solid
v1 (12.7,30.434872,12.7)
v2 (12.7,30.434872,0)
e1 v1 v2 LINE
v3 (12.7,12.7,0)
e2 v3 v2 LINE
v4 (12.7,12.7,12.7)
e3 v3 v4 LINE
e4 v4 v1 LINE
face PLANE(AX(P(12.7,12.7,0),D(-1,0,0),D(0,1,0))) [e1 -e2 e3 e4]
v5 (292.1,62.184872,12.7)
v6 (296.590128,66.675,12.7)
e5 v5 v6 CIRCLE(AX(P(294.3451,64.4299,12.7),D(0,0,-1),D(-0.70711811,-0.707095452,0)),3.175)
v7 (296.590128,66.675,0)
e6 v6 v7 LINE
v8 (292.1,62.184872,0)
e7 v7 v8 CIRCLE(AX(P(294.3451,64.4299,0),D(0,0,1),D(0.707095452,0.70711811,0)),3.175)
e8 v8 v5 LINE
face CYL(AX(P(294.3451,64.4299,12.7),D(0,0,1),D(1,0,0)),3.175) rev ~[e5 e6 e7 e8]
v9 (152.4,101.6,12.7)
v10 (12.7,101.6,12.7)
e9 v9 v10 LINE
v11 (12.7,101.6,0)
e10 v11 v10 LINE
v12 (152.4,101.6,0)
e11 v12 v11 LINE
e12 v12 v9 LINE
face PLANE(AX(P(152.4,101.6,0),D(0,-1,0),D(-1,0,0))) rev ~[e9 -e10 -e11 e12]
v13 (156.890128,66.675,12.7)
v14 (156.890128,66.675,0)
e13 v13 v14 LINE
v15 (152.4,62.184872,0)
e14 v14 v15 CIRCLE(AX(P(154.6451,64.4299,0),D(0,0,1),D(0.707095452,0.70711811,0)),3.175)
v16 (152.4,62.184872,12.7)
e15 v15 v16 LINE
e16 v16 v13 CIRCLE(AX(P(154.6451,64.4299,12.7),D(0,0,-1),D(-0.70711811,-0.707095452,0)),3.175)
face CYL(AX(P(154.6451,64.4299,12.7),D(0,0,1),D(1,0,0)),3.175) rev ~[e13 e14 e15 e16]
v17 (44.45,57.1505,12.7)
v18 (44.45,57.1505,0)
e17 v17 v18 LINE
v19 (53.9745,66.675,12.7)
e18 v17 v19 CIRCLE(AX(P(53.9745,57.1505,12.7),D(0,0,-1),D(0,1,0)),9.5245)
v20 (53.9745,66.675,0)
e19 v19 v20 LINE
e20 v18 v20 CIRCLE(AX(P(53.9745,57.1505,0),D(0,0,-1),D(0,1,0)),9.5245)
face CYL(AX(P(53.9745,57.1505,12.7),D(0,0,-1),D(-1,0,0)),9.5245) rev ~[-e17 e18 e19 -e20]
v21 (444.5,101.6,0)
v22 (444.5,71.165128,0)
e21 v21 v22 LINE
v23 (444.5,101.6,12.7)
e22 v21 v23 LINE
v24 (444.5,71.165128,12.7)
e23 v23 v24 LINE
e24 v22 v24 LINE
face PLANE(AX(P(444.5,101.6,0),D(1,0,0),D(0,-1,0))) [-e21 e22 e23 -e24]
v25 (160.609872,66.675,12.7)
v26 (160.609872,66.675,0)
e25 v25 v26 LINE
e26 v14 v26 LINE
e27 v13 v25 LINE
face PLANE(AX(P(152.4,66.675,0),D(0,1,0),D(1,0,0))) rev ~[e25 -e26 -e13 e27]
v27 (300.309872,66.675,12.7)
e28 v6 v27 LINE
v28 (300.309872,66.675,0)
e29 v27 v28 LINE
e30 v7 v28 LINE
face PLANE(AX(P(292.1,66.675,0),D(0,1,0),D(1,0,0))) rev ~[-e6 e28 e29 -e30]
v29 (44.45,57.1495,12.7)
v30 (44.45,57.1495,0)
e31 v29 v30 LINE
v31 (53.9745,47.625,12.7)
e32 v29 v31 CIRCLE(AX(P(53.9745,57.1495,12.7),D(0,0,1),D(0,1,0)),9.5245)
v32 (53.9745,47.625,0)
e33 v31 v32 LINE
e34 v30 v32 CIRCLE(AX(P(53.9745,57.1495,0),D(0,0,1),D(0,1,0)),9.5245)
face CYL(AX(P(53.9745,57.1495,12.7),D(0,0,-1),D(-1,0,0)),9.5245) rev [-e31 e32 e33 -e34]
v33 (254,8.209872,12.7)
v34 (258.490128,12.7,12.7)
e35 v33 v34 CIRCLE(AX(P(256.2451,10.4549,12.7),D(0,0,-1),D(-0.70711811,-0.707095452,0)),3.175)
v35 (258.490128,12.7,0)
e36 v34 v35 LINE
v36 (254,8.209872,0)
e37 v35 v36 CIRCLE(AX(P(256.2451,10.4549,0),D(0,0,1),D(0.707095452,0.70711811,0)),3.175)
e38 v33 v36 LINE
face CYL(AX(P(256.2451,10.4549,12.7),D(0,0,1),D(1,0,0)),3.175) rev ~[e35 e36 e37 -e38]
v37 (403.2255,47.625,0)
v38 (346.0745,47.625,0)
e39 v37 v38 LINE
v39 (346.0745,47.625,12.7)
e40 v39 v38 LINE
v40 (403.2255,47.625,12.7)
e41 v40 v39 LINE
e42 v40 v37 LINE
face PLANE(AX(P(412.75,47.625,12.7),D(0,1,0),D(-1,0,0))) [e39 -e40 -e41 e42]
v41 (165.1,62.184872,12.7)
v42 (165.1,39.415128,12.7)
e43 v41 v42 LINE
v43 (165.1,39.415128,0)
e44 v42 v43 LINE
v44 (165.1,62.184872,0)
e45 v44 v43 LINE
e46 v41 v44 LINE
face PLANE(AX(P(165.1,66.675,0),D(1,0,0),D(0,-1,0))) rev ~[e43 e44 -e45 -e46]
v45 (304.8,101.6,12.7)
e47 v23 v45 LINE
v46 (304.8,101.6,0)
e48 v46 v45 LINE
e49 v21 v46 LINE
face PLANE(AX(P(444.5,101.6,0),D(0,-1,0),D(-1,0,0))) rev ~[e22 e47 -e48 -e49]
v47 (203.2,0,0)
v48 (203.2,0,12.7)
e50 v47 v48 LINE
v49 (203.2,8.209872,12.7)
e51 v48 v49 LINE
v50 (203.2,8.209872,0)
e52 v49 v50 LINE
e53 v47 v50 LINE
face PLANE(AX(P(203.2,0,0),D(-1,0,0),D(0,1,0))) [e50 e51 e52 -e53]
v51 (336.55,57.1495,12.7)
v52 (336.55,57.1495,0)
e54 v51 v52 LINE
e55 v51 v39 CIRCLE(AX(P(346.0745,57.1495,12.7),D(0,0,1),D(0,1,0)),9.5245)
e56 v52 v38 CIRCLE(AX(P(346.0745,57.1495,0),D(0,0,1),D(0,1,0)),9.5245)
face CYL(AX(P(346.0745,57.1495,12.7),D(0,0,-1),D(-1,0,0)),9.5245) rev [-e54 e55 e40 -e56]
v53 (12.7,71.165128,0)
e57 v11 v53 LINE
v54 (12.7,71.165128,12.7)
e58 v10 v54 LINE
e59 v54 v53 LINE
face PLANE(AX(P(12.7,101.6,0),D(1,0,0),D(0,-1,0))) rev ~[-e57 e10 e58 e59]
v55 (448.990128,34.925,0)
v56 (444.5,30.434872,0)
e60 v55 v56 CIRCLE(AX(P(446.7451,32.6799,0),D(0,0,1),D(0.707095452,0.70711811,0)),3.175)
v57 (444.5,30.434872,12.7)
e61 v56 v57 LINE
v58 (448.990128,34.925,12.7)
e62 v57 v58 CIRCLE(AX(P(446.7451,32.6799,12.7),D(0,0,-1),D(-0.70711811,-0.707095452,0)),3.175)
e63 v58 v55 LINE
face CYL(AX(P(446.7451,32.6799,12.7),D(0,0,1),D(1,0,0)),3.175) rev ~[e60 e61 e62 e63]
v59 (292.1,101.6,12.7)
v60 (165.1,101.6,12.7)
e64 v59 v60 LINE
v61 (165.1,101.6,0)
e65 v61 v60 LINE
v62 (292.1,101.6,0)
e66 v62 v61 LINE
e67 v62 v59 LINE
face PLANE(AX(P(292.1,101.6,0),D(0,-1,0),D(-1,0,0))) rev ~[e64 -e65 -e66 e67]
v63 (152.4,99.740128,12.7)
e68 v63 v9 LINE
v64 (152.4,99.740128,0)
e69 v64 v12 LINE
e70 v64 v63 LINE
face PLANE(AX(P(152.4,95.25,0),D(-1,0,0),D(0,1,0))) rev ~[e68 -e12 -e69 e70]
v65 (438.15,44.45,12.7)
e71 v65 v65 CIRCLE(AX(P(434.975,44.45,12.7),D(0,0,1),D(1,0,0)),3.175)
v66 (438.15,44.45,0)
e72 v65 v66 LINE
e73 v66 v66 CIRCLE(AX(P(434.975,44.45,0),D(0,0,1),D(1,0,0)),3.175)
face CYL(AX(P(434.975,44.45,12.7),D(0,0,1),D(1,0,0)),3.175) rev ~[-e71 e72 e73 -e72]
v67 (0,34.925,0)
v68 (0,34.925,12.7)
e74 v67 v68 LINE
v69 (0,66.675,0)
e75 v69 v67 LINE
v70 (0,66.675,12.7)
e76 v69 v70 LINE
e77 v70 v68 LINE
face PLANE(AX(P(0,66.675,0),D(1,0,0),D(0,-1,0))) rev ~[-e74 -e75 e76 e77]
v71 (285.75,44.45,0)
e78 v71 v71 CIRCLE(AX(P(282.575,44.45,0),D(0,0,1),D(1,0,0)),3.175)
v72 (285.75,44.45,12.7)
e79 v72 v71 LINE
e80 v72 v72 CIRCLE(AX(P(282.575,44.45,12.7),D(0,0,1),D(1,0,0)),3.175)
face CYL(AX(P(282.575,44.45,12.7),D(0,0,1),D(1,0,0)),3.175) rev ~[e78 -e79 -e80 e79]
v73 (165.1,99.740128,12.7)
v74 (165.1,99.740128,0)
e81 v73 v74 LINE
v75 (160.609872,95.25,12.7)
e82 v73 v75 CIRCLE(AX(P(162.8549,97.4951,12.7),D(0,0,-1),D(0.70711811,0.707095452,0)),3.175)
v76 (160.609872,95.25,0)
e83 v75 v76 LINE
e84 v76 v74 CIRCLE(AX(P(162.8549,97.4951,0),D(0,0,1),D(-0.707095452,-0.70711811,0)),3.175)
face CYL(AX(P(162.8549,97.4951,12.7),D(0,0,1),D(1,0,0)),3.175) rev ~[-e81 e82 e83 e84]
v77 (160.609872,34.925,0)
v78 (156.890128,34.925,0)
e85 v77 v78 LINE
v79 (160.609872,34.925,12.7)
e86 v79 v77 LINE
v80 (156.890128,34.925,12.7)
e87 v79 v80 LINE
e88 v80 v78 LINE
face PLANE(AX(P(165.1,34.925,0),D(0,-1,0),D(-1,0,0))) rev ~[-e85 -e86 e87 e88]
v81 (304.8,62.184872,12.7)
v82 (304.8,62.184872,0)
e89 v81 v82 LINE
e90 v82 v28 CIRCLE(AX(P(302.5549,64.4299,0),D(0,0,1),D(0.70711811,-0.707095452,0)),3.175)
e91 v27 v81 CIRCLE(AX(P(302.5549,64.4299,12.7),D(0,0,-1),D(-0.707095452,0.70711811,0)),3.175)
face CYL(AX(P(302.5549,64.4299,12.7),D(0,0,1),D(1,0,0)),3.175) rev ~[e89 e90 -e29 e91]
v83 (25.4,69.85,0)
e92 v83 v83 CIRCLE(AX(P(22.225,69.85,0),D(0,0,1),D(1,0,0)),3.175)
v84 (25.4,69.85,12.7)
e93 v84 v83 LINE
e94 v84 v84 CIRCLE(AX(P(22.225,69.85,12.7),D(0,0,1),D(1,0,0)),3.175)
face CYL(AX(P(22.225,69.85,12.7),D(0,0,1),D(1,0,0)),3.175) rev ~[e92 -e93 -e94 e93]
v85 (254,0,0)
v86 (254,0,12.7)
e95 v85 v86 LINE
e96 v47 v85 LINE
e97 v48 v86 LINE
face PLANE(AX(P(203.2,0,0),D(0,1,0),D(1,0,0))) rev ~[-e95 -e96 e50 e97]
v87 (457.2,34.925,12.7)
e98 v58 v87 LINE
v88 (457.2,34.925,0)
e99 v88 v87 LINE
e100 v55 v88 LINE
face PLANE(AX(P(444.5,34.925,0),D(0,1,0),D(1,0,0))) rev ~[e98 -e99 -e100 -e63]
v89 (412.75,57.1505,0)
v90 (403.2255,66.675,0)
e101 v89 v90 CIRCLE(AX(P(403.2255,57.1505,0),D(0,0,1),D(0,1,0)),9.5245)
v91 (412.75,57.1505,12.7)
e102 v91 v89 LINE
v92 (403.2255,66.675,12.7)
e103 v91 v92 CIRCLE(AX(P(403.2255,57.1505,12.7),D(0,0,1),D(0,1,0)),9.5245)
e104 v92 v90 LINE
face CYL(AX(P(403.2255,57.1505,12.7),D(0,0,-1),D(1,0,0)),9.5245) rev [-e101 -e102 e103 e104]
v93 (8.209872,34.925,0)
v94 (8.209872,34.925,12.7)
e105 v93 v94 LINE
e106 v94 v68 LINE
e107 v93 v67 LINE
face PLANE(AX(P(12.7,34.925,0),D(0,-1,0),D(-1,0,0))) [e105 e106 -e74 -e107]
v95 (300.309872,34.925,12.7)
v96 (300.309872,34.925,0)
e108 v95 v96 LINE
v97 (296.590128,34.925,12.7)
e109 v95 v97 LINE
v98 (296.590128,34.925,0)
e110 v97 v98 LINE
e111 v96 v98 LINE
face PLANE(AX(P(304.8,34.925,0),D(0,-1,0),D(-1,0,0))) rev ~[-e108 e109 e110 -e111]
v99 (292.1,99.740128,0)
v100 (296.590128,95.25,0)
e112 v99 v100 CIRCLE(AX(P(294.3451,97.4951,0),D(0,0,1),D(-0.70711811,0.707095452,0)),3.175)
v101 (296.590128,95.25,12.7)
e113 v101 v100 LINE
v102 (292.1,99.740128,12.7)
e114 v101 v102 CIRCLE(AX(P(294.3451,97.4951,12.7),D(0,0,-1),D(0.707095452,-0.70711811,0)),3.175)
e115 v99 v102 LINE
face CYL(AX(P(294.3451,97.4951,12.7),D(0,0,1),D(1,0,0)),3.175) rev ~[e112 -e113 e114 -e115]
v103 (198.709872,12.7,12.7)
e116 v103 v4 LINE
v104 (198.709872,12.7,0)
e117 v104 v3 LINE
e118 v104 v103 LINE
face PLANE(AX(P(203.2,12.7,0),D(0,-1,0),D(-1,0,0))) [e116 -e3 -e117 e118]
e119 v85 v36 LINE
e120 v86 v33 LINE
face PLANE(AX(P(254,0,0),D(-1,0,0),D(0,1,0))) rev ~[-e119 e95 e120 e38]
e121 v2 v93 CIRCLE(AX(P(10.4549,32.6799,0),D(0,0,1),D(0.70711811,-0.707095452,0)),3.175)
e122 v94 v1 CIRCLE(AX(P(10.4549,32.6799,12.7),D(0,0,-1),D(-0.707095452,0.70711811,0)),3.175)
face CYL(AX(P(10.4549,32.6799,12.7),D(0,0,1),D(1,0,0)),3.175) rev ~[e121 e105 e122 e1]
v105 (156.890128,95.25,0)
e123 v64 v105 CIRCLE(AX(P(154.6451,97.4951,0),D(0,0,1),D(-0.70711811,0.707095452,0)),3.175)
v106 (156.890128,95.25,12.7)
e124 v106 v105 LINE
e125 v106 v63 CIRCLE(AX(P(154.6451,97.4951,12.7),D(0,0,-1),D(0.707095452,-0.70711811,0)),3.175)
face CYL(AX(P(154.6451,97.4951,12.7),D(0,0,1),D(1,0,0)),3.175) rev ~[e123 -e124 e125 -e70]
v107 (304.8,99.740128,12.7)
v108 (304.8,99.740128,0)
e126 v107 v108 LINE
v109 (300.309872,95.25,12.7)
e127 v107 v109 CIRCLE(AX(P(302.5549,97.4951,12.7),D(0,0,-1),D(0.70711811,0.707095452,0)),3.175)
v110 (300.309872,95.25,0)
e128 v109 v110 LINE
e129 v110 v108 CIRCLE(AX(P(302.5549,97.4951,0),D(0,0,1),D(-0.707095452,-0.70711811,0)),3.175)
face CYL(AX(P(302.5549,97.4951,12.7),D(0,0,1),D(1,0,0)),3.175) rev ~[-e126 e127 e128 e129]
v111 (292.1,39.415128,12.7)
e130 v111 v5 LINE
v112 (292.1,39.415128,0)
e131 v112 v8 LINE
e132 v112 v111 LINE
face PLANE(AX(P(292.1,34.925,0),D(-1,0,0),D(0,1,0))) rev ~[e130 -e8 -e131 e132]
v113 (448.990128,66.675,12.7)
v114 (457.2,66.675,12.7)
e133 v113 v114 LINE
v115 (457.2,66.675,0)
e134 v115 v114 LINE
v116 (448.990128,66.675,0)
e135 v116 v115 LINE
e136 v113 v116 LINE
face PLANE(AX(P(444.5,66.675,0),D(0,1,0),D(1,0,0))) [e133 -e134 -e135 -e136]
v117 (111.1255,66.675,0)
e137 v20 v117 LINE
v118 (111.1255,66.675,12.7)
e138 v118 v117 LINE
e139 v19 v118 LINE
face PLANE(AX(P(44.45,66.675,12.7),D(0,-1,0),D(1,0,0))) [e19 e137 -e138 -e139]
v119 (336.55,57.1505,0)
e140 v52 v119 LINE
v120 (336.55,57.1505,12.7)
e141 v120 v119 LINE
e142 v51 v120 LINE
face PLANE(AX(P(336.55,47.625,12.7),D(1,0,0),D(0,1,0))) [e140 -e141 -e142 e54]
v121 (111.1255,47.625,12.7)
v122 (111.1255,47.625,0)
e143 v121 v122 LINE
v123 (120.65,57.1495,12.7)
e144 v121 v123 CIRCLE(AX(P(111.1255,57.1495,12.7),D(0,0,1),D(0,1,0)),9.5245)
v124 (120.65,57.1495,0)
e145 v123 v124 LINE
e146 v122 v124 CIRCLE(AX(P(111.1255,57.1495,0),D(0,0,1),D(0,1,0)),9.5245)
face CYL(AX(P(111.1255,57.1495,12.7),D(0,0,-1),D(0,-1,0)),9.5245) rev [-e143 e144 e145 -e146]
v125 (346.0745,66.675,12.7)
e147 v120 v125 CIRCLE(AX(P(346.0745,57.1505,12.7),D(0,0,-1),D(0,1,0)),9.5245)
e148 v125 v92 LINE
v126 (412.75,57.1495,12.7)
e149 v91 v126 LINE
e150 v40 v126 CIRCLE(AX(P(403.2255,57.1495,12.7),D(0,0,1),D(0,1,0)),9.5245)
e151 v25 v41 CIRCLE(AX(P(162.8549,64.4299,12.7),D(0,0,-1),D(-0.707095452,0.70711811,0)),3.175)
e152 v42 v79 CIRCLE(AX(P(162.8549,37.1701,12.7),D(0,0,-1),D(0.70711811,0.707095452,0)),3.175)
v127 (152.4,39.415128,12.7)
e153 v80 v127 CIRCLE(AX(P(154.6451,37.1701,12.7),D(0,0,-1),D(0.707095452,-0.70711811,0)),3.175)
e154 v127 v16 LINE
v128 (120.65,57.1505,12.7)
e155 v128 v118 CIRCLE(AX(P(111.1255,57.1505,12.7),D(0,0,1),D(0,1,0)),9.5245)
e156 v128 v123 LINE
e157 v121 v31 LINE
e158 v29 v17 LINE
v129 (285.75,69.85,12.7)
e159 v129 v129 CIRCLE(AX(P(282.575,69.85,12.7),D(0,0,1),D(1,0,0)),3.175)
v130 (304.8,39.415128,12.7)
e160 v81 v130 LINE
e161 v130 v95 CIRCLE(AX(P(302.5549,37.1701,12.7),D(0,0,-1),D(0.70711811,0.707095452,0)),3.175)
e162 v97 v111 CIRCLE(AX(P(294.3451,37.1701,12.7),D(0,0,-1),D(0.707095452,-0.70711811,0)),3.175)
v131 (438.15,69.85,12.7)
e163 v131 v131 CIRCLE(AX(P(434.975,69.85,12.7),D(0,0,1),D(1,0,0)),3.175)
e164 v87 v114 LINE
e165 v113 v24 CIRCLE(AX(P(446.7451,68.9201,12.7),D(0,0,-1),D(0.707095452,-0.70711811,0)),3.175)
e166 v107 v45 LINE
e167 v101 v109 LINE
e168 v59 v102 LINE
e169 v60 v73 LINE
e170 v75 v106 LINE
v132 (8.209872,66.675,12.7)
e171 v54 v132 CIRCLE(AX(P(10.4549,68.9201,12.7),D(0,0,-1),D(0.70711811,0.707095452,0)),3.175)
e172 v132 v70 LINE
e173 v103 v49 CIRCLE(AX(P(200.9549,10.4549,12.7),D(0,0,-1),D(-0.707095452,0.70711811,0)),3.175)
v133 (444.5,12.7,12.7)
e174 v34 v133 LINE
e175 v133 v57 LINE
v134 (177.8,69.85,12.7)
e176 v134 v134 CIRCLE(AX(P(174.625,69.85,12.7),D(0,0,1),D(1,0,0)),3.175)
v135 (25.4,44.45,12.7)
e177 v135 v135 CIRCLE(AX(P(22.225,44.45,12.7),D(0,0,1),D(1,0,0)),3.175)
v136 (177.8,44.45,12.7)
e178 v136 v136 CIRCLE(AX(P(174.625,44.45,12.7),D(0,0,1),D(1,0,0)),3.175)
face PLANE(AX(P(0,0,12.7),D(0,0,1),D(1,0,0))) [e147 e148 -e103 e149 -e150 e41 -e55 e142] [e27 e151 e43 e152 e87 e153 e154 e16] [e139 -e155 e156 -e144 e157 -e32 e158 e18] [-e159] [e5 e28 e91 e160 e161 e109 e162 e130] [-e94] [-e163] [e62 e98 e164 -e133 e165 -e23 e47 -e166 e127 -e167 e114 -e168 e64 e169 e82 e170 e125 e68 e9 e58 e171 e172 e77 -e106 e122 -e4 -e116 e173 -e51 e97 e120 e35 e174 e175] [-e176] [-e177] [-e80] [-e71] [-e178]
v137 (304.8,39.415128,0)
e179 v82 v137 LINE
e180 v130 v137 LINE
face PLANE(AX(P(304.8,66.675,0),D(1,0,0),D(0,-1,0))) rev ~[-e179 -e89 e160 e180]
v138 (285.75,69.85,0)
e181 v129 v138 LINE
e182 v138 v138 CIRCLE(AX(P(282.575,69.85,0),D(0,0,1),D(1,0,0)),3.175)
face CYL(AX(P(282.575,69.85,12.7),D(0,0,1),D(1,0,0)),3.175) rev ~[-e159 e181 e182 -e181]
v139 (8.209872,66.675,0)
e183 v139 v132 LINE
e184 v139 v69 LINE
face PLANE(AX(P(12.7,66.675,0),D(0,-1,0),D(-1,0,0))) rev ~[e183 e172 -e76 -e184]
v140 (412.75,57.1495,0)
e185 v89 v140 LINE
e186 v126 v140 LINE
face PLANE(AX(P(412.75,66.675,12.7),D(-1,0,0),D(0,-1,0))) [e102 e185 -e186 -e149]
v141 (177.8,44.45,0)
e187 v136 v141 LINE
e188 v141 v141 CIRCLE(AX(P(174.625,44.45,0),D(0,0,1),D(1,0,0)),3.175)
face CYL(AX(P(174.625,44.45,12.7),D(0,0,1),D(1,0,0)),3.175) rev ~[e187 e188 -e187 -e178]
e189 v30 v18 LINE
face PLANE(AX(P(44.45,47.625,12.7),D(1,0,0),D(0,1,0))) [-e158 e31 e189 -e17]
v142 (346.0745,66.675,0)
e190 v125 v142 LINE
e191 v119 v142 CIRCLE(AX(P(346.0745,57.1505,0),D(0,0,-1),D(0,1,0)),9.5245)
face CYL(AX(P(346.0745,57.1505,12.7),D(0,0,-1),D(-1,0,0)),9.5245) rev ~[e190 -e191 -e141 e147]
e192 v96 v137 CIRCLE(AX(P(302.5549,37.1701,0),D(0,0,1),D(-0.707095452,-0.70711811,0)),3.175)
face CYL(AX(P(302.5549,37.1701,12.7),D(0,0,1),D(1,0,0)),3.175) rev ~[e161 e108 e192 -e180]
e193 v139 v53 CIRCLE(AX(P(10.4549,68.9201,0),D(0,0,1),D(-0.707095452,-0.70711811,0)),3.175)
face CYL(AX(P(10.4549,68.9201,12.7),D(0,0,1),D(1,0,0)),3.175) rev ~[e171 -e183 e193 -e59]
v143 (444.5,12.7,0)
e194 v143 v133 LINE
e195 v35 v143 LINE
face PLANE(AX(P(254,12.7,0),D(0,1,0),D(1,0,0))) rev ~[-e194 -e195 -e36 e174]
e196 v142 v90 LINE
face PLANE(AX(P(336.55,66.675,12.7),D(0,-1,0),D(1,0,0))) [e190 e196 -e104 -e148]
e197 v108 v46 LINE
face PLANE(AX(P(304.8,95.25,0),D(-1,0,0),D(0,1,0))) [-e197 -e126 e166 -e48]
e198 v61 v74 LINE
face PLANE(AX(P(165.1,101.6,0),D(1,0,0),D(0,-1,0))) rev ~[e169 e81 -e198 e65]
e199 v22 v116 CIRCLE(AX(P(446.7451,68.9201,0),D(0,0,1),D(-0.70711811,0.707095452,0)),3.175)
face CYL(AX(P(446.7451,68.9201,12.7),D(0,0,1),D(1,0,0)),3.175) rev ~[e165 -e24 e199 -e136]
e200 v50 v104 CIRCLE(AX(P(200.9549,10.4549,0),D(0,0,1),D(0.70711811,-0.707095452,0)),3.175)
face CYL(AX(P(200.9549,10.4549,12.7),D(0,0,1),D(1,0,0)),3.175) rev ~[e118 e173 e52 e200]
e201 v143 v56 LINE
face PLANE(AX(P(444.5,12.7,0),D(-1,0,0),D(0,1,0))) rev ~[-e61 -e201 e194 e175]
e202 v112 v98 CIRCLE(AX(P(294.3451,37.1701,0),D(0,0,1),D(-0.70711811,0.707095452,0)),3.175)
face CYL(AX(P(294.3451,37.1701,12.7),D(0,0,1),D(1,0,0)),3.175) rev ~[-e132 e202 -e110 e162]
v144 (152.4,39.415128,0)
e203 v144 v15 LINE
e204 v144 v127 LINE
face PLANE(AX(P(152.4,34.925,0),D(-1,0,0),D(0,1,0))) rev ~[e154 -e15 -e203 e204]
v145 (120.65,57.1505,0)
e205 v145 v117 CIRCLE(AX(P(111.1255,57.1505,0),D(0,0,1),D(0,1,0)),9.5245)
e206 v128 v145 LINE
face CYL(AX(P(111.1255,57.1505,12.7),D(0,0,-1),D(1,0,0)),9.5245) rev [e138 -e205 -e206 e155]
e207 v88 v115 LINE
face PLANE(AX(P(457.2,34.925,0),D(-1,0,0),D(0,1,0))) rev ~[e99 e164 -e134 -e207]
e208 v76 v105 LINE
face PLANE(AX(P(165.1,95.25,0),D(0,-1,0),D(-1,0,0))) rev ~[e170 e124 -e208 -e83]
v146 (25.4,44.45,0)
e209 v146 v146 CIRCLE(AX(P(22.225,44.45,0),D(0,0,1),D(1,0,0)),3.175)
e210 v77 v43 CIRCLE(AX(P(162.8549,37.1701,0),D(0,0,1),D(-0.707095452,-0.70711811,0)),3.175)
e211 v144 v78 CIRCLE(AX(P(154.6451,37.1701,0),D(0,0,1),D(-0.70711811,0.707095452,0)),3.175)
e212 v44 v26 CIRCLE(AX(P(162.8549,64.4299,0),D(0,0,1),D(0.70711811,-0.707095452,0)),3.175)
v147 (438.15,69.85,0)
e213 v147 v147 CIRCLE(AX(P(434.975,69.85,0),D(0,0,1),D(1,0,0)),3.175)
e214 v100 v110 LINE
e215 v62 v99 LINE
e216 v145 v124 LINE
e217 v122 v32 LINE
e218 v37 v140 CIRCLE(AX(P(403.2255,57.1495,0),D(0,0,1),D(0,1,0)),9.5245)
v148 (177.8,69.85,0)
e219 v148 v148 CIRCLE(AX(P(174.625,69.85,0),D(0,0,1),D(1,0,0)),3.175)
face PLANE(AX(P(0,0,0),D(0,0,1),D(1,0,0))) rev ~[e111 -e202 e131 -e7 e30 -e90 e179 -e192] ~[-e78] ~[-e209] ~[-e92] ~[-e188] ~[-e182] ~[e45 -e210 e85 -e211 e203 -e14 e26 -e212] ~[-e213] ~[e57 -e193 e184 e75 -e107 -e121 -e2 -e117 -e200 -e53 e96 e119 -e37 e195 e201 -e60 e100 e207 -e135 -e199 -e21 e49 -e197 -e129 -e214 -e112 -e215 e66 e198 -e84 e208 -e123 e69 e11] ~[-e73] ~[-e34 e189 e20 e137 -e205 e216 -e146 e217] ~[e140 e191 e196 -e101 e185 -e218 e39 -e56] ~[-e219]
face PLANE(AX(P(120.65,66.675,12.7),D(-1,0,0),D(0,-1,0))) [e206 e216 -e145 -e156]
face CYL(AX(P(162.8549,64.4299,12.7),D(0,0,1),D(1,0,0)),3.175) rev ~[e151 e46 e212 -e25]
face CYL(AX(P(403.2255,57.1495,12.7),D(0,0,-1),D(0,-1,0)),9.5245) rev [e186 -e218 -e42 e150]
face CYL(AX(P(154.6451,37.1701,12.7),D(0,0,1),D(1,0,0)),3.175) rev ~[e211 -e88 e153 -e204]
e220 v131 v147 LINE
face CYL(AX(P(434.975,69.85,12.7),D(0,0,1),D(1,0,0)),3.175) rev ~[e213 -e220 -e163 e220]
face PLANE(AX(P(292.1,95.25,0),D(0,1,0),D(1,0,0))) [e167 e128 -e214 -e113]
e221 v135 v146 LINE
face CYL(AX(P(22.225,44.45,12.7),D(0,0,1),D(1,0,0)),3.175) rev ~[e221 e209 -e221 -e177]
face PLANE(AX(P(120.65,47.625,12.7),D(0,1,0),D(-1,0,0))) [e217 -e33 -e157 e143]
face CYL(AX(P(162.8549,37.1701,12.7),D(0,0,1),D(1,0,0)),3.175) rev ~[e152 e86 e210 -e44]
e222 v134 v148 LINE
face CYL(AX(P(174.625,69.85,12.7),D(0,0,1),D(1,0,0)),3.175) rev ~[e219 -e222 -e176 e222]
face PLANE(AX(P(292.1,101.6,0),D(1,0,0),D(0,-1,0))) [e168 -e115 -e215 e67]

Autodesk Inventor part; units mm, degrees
ref_plane "YZ Plane" through (0, 0, 0) normal (1, 0, 0) x (0, 1, 0)
ref_plane "XZ Plane" through (0, 0, 0) normal (0, 1, 0) x (-1, 0, 0)
ref_plane "XY Plane" through (0, 0, 0) normal (0, 0, 1) x (1, 0, 0)
sketch "Sketch1" plane through (0, 0, 0) normal (0, 0, 1) x (1, 0, 0)
  line L0 (0, 0) -> (457.2, 0)
  line L1 (457.2, 0) -> (457.2, 101.6)
  line L2 (457.2, 101.6) -> (0, 101.6)
  line L3 (0, 101.6) -> (0, 0)
  line L4 (0, 101.6) -> (12.7, 101.6)
  line L5 (12.7, 101.6) -> (12.7, 66.675)
  line L6 (12.7, 66.675) -> (0, 66.675)
  line L7 (0, 66.675) -> (0, 101.6)
  line L8 (457.2, 101.6) -> (444.5, 101.6)
  line L9 (444.5, 101.6) -> (444.5, 66.675)
  line L10 (444.5, 66.675) -> (457.2, 66.675)
  line L11 (457.2, 66.675) -> (457.2, 101.6)
  line L12 (0, 0) -> (12.7, 0)
  line L13 (12.7, 0) -> (12.7, 34.925)
  line L14 (12.7, 34.925) -> (0, 34.925)
  line L15 (0, 34.925) -> (0, 0)
  line L16 (457.2, 0) -> (444.5, 0)
  line L17 (444.5, 0) -> (444.5, 34.925)
  line L18 (444.5, 34.925) -> (457.2, 34.925)
  line L19 (457.2, 34.925) -> (457.2, 0)
  line L20 (152.4, 101.6) -> (165.1, 101.6)
  line L21 (165.1, 101.6) -> (165.1, 95.25)
  line L22 (165.1, 95.25) -> (152.4, 95.25)
  line L23 (152.4, 95.25) -> (152.4, 101.6)
  line L24 (304.8, 101.6) -> (292.1, 101.6)
  line L25 (292.1, 101.6) -> (292.1, 95.25)
  line L26 (292.1, 95.25) -> (304.8, 95.25)
  line L27 (304.8, 95.25) -> (304.8, 101.6)
  line L28 (152.4, 66.675) -> (165.1, 66.675)
  line L29 (165.1, 66.675) -> (165.1, 34.925)
  line L30 (165.1, 34.925) -> (152.4, 34.925)
  line L31 (152.4, 34.925) -> (152.4, 66.675)
  line L32 (292.1, 66.675) -> (304.8, 66.675)
  line L33 (304.8, 66.675) -> (304.8, 34.925)
  line L34 (304.8, 34.925) -> (292.1, 34.925)
  line L35 (292.1, 34.925) -> (292.1, 66.675)
  line L36 (12.7, 0) -> (203.2, 0)
  line L37 (203.2, 0) -> (203.2, 12.7)
  line L38 (203.2, 12.7) -> (12.7, 12.7)
  line L39 (12.7, 12.7) -> (12.7, 0)
  line L40 (444.5, 0) -> (254, 0)
  line L41 (254, 0) -> (254, 12.7)
  line L42 (254, 12.7) -> (444.5, 12.7)
  line L43 (444.5, 12.7) -> (444.5, 0)
  point P0 (0, 66.675)
  point P1 (12.7, 12.7)
  point P2 (292.1, 101.6)
  point P3 (165.1, 101.6)
  dimension "d0" = 101.6
  dimension "d1" = 457.2
  dimension "d2" = 12.7
  dimension "d3" = 34.925
  dimension "d4" = 12.7
  dimension "d5" = 34.925
  dimension "d6" = 12.7
  dimension "d7" = 34.925
  dimension "d8" = 12.7
  dimension "d9" = 34.925
  dimension "d13" = 12.7
  dimension "d14" = 6.35
  dimension "d15" = 139.7
  dimension "d16" = 12.7
  dimension "d17" = 6.35
  dimension "d18" = 139.7
  dimension "d19" = 12.7
  dimension "d20" = 139.7
  dimension "d21" = 28.575
  dimension "d22" = 12.7
  dimension "d23" = 139.7
  dimension "d24" = 28.575
  dimension "d25" = 31.75
  dimension "d26" = 31.75
  dimension "d27" = 190.5
  dimension "d28" = 12.7
  dimension "d29" = 190.5
  dimension "d30" = 12.7
extrude "Extrusion1" add sketch "Sketch1" along normal blind 12.7 contours L3 L6 L5 L2 L23 L22 L21 L25 L26 L27 L9 L10 L1 L18 L17 L42 L41 L0 L37 L38 L13 L14
sketch "Sketch3" plane through (0, 0, 12.7) normal (0, 0, 1) x (1, 0, 0)
  line L0 (12.7, 101.6) -> (12.7, 66.675) projected
  line L1 (12.7, 66.675) -> (10.4549, 68.9201)
  circle A0 centre (10.4549, 68.9201) radius 3.175
  line L2 (12.7, 34.925) -> (12.7, 12.7) projected
  line L3 (12.7, 34.925) -> (10.4549, 32.6799)
  circle A1 centre (10.4549, 32.6799) radius 3.175
  line L4 (203.2, 12.7) -> (203.2, 0) projected
  line L5 (203.2, 12.7) -> (200.9549, 10.4549)
  circle A2 centre (200.9549, 10.4549) radius 3.175
  line L6 (254, 0) -> (254, 12.7) projected
  line L7 (254, 12.7) -> (256.2451, 10.4549)
  line L8 (254, 12.7) -> (444.5, 12.7) projected
  circle A3 centre (256.2451, 10.4549) radius 3.175
  line L9 (444.5, 34.925) -> (446.7451, 32.6799)
  line L10 (444.5, 34.925) -> (457.2, 34.925) projected
  circle A4 centre (446.7451, 32.6799) radius 3.175
  line L11 (457.2, 66.675) -> (444.5, 66.675) projected
  line L12 (444.5, 66.675) -> (446.7451, 68.9201)
  circle A5 centre (446.7451, 68.9201) radius 3.175
  line L13 (304.8, 34.925) -> (292.1, 34.925) projected
  line L14 (292.1, 34.925) -> (294.3451, 37.1701)
  line L15 (304.8, 34.925) -> (302.5549, 37.1701)
  line L16 (304.8, 66.675) -> (304.8, 34.925) projected
  line L17 (292.1, 66.675) -> (304.8, 66.675) projected
  line L18 (292.1, 66.675) -> (294.3451, 64.4299)
  line L19 (304.8, 66.675) -> (302.5549, 64.4299)
  line L20 (304.8, 95.25) -> (292.1, 95.25) projected
  line L21 (292.1, 95.25) -> (294.3451, 97.4951)
  line L22 (304.8, 95.25) -> (302.5549, 97.4951)
  line L23 (304.8, 101.6) -> (304.8, 95.25) projected
  line L24 (165.1, 34.925) -> (152.4, 34.925) projected
  line L25 (152.4, 34.925) -> (154.6451, 37.1701)
  line L26 (165.1, 66.675) -> (165.1, 34.925) projected
  line L27 (165.1, 34.925) -> (162.8549, 37.1701)
  line L28 (152.4, 66.675) -> (165.1, 66.675) projected
  line L29 (152.4, 66.675) -> (154.6451, 64.4299)
  line L30 (165.1, 66.675) -> (162.8549, 64.4299)
  line L31 (165.1, 95.25) -> (152.4, 95.25) projected
  line L32 (152.4, 95.25) -> (154.6451, 97.4951)
  line L33 (165.1, 95.25) -> (162.8549, 97.4951)
  line L34 (165.1, 101.6) -> (165.1, 95.25) projected
  circle A6 centre (154.6451, 97.4951) radius 3.175
  circle A7 centre (162.8549, 97.4951) radius 3.175
  circle A8 centre (154.6451, 64.4299) radius 3.175
  circle A9 centre (162.8549, 64.4299) radius 3.175
  circle A10 centre (162.8549, 37.1701) radius 3.175
  circle A11 centre (154.6451, 37.1701) radius 3.175
  circle A12 centre (294.3451, 37.1701) radius 3.175
  circle A13 centre (302.5549, 37.1701) radius 3.175
  circle A14 centre (294.3451, 64.4299) radius 3.175
  circle A15 centre (302.5549, 64.4299) radius 3.175
  circle A16 centre (294.3451, 97.4951) radius 3.175
  circle A17 centre (302.5549, 97.4951) radius 3.175
  point P0 (0, 0)
  dimension "d38" = 3.175
  dimension "d39" = 45
  dimension "d40" = 6.35
  dimension "d41" = 3.175
  dimension "d42" = 45
  dimension "d43" = 6.35
  dimension "d44" = 3.175
  dimension "d45" = 45
  dimension "d46" = 6.35
  dimension "d47" = 3.175
  dimension "d48" = 45
  dimension "d49" = 6.35
  dimension "d50" = 3.175
  dimension "d51" = 45
  dimension "d52" = 6.35
  dimension "d53" = 3.175
  dimension "d54" = 45
  dimension "d55" = 6.35
  dimension "d56" = 3.175
  dimension "d57" = 45
  dimension "d58" = 3.175
  dimension "d59" = 45
  dimension "d60" = 3.175
  dimension "d61" = 45
  dimension "d62" = 3.175
  dimension "d63" = 45
  dimension "d64" = 3.175
  dimension "d65" = 45
  dimension "d66" = 3.175
  dimension "d67" = 45
  dimension "d68" = 3.175
  dimension "d69" = 45
  dimension "d70" = 3.175
  dimension "d71" = 45
  dimension "d72" = 3.175
  dimension "d73" = 45
  dimension "d74" = 3.175
  dimension "d75" = 45
  dimension "d76" = 3.175
  dimension "d77" = 45
  dimension "d78" = 3.175
  dimension "d79" = 45
  dimension "d80" = 6.35
  dimension "d81" = 6.35
  dimension "d82" = 6.35
  dimension "d83" = 6.35
  dimension "d84" = 6.35
  dimension "d85" = 6.35
  dimension "d86" = 6.35
  dimension "d87" = 6.35
  dimension "d88" = 6.35
  dimension "d89" = 6.35
  dimension "d90" = 6.35
  dimension "d91" = 6.35
extrude "Extrusion3" cut sketch "Sketch3" against normal blind 25.4
sketch "Sketch6" plane through (0, 0, 12.7) normal (0, 0, 1) x (1, 0, 0)
  circle A0 centre (22.225, 69.85) radius 3.175
  line L0 (152.4, 101.6) -> (12.7, 101.6) projected
  line L1 (12.7, 101.6) -> (12.7, 71.1651) projected
  circle A1 centre (174.625, 69.85) radius 3.175
  line L2 (292.1, 101.6) -> (165.1, 101.6) projected
  line L3 (165.1, 62.1849) -> (165.1, 39.4151) projected
  circle A2 centre (282.575, 69.85) radius 3.175
  line L4 (292.1, 39.4151) -> (292.1, 62.1849) projected
  circle A3 centre (282.575, 44.45) radius 3.175
  circle A4 centre (174.625, 44.45) radius 3.175
  circle A5 centre (22.225, 44.45) radius 3.175
  circle A6 centre (434.975, 69.85) radius 3.175
  line L5 (444.5, 101.6) -> (304.8, 101.6) projected
  line L6 (444.5, 71.1651) -> (444.5, 101.6) projected
  circle A7 centre (434.975, 44.45) radius 3.175
  line L7 (444.5, 12.7) -> (444.5, 30.4349) projected
  point P0 (0, 0)
  dimension "d146" = 6.35
  dimension "d147" = 31.75
  dimension "d148" = 9.525
  dimension "d149" = 6.35
  dimension "d150" = 31.75
  dimension "d151" = 9.525
  dimension "d152" = 6.35
  dimension "d153" = 31.75
  dimension "d154" = 9.525
  dimension "d155" = 6.35
  dimension "d156" = 9.525
  dimension "d157" = 25.4
  dimension "d158" = 6.35
  dimension "d159" = 9.525
  dimension "d160" = 25.4
  dimension "d161" = 6.35
  dimension "d162" = 9.525
  dimension "d163" = 25.4
  dimension "d164" = 6.35
  dimension "d165" = 31.75
  dimension "d166" = 9.525
  dimension "d167" = 6.35
  dimension "d168" = 9.525
  dimension "d169" = 25.4
extrude "Extrusion5" cut sketch "Sketch6" against normal blind 12.7
sketch "Sketch7" plane through (0, 0, 12.7) normal (0, 0, 1) x (1, 0, 0)
  line L0 (44.45, 66.675) -> (120.65, 66.675)
  line L1 (120.65, 66.675) -> (120.65, 47.625)
  line L2 (120.65, 47.625) -> (44.45, 47.625)
  line L3 (44.45, 47.625) -> (44.45, 66.675)
  line L4 (12.7, 101.6) -> (12.7, 71.1651) projected
  line L5 (152.4, 101.6) -> (12.7, 101.6) projected
  line L6 (336.55, 66.675) -> (412.75, 66.675)
  line L7 (412.75, 66.675) -> (412.75, 47.625)
  line L8 (412.75, 47.625) -> (336.55, 47.625)
  line L9 (336.55, 47.625) -> (336.55, 66.675)
  line L10 (444.5, 101.6) -> (304.8, 101.6) projected
  line L11 (444.5, 12.7) -> (444.5, 30.4349) projected
  point P0 (0, 0)
  point P1 (82.55, 66.675)
  point P2 (44.45, 57.15)
  point P3 (412.75, 57.15)
  point P4 (374.65, 66.675)
  dimension "d172" = 19.05
  dimension "d173" = 76.2
  dimension "d174" = 69.85
  dimension "d175" = 44.45
  dimension "d176" = 76.2
  dimension "d177" = 19.05
  dimension "d178" = 44.45
  dimension "d179" = 69.85
extrude "Extrusion6" cut sketch "Sketch7" against normal blind 12.7
fillet "Fillet1" radius 9.525 8 edges at (44.45, 47.625, 6.35) (44.45, 66.675, 6.35) (120.65, 66.675, 6.35) (120.65, 47.625, 6.35) (336.55, 66.675, 6.35) (336.55, 47.625, 6.35) (412.75, 47.625, 6.35) (412.75, 66.675, 6.35)
properties part number "Inner Front Wall"
